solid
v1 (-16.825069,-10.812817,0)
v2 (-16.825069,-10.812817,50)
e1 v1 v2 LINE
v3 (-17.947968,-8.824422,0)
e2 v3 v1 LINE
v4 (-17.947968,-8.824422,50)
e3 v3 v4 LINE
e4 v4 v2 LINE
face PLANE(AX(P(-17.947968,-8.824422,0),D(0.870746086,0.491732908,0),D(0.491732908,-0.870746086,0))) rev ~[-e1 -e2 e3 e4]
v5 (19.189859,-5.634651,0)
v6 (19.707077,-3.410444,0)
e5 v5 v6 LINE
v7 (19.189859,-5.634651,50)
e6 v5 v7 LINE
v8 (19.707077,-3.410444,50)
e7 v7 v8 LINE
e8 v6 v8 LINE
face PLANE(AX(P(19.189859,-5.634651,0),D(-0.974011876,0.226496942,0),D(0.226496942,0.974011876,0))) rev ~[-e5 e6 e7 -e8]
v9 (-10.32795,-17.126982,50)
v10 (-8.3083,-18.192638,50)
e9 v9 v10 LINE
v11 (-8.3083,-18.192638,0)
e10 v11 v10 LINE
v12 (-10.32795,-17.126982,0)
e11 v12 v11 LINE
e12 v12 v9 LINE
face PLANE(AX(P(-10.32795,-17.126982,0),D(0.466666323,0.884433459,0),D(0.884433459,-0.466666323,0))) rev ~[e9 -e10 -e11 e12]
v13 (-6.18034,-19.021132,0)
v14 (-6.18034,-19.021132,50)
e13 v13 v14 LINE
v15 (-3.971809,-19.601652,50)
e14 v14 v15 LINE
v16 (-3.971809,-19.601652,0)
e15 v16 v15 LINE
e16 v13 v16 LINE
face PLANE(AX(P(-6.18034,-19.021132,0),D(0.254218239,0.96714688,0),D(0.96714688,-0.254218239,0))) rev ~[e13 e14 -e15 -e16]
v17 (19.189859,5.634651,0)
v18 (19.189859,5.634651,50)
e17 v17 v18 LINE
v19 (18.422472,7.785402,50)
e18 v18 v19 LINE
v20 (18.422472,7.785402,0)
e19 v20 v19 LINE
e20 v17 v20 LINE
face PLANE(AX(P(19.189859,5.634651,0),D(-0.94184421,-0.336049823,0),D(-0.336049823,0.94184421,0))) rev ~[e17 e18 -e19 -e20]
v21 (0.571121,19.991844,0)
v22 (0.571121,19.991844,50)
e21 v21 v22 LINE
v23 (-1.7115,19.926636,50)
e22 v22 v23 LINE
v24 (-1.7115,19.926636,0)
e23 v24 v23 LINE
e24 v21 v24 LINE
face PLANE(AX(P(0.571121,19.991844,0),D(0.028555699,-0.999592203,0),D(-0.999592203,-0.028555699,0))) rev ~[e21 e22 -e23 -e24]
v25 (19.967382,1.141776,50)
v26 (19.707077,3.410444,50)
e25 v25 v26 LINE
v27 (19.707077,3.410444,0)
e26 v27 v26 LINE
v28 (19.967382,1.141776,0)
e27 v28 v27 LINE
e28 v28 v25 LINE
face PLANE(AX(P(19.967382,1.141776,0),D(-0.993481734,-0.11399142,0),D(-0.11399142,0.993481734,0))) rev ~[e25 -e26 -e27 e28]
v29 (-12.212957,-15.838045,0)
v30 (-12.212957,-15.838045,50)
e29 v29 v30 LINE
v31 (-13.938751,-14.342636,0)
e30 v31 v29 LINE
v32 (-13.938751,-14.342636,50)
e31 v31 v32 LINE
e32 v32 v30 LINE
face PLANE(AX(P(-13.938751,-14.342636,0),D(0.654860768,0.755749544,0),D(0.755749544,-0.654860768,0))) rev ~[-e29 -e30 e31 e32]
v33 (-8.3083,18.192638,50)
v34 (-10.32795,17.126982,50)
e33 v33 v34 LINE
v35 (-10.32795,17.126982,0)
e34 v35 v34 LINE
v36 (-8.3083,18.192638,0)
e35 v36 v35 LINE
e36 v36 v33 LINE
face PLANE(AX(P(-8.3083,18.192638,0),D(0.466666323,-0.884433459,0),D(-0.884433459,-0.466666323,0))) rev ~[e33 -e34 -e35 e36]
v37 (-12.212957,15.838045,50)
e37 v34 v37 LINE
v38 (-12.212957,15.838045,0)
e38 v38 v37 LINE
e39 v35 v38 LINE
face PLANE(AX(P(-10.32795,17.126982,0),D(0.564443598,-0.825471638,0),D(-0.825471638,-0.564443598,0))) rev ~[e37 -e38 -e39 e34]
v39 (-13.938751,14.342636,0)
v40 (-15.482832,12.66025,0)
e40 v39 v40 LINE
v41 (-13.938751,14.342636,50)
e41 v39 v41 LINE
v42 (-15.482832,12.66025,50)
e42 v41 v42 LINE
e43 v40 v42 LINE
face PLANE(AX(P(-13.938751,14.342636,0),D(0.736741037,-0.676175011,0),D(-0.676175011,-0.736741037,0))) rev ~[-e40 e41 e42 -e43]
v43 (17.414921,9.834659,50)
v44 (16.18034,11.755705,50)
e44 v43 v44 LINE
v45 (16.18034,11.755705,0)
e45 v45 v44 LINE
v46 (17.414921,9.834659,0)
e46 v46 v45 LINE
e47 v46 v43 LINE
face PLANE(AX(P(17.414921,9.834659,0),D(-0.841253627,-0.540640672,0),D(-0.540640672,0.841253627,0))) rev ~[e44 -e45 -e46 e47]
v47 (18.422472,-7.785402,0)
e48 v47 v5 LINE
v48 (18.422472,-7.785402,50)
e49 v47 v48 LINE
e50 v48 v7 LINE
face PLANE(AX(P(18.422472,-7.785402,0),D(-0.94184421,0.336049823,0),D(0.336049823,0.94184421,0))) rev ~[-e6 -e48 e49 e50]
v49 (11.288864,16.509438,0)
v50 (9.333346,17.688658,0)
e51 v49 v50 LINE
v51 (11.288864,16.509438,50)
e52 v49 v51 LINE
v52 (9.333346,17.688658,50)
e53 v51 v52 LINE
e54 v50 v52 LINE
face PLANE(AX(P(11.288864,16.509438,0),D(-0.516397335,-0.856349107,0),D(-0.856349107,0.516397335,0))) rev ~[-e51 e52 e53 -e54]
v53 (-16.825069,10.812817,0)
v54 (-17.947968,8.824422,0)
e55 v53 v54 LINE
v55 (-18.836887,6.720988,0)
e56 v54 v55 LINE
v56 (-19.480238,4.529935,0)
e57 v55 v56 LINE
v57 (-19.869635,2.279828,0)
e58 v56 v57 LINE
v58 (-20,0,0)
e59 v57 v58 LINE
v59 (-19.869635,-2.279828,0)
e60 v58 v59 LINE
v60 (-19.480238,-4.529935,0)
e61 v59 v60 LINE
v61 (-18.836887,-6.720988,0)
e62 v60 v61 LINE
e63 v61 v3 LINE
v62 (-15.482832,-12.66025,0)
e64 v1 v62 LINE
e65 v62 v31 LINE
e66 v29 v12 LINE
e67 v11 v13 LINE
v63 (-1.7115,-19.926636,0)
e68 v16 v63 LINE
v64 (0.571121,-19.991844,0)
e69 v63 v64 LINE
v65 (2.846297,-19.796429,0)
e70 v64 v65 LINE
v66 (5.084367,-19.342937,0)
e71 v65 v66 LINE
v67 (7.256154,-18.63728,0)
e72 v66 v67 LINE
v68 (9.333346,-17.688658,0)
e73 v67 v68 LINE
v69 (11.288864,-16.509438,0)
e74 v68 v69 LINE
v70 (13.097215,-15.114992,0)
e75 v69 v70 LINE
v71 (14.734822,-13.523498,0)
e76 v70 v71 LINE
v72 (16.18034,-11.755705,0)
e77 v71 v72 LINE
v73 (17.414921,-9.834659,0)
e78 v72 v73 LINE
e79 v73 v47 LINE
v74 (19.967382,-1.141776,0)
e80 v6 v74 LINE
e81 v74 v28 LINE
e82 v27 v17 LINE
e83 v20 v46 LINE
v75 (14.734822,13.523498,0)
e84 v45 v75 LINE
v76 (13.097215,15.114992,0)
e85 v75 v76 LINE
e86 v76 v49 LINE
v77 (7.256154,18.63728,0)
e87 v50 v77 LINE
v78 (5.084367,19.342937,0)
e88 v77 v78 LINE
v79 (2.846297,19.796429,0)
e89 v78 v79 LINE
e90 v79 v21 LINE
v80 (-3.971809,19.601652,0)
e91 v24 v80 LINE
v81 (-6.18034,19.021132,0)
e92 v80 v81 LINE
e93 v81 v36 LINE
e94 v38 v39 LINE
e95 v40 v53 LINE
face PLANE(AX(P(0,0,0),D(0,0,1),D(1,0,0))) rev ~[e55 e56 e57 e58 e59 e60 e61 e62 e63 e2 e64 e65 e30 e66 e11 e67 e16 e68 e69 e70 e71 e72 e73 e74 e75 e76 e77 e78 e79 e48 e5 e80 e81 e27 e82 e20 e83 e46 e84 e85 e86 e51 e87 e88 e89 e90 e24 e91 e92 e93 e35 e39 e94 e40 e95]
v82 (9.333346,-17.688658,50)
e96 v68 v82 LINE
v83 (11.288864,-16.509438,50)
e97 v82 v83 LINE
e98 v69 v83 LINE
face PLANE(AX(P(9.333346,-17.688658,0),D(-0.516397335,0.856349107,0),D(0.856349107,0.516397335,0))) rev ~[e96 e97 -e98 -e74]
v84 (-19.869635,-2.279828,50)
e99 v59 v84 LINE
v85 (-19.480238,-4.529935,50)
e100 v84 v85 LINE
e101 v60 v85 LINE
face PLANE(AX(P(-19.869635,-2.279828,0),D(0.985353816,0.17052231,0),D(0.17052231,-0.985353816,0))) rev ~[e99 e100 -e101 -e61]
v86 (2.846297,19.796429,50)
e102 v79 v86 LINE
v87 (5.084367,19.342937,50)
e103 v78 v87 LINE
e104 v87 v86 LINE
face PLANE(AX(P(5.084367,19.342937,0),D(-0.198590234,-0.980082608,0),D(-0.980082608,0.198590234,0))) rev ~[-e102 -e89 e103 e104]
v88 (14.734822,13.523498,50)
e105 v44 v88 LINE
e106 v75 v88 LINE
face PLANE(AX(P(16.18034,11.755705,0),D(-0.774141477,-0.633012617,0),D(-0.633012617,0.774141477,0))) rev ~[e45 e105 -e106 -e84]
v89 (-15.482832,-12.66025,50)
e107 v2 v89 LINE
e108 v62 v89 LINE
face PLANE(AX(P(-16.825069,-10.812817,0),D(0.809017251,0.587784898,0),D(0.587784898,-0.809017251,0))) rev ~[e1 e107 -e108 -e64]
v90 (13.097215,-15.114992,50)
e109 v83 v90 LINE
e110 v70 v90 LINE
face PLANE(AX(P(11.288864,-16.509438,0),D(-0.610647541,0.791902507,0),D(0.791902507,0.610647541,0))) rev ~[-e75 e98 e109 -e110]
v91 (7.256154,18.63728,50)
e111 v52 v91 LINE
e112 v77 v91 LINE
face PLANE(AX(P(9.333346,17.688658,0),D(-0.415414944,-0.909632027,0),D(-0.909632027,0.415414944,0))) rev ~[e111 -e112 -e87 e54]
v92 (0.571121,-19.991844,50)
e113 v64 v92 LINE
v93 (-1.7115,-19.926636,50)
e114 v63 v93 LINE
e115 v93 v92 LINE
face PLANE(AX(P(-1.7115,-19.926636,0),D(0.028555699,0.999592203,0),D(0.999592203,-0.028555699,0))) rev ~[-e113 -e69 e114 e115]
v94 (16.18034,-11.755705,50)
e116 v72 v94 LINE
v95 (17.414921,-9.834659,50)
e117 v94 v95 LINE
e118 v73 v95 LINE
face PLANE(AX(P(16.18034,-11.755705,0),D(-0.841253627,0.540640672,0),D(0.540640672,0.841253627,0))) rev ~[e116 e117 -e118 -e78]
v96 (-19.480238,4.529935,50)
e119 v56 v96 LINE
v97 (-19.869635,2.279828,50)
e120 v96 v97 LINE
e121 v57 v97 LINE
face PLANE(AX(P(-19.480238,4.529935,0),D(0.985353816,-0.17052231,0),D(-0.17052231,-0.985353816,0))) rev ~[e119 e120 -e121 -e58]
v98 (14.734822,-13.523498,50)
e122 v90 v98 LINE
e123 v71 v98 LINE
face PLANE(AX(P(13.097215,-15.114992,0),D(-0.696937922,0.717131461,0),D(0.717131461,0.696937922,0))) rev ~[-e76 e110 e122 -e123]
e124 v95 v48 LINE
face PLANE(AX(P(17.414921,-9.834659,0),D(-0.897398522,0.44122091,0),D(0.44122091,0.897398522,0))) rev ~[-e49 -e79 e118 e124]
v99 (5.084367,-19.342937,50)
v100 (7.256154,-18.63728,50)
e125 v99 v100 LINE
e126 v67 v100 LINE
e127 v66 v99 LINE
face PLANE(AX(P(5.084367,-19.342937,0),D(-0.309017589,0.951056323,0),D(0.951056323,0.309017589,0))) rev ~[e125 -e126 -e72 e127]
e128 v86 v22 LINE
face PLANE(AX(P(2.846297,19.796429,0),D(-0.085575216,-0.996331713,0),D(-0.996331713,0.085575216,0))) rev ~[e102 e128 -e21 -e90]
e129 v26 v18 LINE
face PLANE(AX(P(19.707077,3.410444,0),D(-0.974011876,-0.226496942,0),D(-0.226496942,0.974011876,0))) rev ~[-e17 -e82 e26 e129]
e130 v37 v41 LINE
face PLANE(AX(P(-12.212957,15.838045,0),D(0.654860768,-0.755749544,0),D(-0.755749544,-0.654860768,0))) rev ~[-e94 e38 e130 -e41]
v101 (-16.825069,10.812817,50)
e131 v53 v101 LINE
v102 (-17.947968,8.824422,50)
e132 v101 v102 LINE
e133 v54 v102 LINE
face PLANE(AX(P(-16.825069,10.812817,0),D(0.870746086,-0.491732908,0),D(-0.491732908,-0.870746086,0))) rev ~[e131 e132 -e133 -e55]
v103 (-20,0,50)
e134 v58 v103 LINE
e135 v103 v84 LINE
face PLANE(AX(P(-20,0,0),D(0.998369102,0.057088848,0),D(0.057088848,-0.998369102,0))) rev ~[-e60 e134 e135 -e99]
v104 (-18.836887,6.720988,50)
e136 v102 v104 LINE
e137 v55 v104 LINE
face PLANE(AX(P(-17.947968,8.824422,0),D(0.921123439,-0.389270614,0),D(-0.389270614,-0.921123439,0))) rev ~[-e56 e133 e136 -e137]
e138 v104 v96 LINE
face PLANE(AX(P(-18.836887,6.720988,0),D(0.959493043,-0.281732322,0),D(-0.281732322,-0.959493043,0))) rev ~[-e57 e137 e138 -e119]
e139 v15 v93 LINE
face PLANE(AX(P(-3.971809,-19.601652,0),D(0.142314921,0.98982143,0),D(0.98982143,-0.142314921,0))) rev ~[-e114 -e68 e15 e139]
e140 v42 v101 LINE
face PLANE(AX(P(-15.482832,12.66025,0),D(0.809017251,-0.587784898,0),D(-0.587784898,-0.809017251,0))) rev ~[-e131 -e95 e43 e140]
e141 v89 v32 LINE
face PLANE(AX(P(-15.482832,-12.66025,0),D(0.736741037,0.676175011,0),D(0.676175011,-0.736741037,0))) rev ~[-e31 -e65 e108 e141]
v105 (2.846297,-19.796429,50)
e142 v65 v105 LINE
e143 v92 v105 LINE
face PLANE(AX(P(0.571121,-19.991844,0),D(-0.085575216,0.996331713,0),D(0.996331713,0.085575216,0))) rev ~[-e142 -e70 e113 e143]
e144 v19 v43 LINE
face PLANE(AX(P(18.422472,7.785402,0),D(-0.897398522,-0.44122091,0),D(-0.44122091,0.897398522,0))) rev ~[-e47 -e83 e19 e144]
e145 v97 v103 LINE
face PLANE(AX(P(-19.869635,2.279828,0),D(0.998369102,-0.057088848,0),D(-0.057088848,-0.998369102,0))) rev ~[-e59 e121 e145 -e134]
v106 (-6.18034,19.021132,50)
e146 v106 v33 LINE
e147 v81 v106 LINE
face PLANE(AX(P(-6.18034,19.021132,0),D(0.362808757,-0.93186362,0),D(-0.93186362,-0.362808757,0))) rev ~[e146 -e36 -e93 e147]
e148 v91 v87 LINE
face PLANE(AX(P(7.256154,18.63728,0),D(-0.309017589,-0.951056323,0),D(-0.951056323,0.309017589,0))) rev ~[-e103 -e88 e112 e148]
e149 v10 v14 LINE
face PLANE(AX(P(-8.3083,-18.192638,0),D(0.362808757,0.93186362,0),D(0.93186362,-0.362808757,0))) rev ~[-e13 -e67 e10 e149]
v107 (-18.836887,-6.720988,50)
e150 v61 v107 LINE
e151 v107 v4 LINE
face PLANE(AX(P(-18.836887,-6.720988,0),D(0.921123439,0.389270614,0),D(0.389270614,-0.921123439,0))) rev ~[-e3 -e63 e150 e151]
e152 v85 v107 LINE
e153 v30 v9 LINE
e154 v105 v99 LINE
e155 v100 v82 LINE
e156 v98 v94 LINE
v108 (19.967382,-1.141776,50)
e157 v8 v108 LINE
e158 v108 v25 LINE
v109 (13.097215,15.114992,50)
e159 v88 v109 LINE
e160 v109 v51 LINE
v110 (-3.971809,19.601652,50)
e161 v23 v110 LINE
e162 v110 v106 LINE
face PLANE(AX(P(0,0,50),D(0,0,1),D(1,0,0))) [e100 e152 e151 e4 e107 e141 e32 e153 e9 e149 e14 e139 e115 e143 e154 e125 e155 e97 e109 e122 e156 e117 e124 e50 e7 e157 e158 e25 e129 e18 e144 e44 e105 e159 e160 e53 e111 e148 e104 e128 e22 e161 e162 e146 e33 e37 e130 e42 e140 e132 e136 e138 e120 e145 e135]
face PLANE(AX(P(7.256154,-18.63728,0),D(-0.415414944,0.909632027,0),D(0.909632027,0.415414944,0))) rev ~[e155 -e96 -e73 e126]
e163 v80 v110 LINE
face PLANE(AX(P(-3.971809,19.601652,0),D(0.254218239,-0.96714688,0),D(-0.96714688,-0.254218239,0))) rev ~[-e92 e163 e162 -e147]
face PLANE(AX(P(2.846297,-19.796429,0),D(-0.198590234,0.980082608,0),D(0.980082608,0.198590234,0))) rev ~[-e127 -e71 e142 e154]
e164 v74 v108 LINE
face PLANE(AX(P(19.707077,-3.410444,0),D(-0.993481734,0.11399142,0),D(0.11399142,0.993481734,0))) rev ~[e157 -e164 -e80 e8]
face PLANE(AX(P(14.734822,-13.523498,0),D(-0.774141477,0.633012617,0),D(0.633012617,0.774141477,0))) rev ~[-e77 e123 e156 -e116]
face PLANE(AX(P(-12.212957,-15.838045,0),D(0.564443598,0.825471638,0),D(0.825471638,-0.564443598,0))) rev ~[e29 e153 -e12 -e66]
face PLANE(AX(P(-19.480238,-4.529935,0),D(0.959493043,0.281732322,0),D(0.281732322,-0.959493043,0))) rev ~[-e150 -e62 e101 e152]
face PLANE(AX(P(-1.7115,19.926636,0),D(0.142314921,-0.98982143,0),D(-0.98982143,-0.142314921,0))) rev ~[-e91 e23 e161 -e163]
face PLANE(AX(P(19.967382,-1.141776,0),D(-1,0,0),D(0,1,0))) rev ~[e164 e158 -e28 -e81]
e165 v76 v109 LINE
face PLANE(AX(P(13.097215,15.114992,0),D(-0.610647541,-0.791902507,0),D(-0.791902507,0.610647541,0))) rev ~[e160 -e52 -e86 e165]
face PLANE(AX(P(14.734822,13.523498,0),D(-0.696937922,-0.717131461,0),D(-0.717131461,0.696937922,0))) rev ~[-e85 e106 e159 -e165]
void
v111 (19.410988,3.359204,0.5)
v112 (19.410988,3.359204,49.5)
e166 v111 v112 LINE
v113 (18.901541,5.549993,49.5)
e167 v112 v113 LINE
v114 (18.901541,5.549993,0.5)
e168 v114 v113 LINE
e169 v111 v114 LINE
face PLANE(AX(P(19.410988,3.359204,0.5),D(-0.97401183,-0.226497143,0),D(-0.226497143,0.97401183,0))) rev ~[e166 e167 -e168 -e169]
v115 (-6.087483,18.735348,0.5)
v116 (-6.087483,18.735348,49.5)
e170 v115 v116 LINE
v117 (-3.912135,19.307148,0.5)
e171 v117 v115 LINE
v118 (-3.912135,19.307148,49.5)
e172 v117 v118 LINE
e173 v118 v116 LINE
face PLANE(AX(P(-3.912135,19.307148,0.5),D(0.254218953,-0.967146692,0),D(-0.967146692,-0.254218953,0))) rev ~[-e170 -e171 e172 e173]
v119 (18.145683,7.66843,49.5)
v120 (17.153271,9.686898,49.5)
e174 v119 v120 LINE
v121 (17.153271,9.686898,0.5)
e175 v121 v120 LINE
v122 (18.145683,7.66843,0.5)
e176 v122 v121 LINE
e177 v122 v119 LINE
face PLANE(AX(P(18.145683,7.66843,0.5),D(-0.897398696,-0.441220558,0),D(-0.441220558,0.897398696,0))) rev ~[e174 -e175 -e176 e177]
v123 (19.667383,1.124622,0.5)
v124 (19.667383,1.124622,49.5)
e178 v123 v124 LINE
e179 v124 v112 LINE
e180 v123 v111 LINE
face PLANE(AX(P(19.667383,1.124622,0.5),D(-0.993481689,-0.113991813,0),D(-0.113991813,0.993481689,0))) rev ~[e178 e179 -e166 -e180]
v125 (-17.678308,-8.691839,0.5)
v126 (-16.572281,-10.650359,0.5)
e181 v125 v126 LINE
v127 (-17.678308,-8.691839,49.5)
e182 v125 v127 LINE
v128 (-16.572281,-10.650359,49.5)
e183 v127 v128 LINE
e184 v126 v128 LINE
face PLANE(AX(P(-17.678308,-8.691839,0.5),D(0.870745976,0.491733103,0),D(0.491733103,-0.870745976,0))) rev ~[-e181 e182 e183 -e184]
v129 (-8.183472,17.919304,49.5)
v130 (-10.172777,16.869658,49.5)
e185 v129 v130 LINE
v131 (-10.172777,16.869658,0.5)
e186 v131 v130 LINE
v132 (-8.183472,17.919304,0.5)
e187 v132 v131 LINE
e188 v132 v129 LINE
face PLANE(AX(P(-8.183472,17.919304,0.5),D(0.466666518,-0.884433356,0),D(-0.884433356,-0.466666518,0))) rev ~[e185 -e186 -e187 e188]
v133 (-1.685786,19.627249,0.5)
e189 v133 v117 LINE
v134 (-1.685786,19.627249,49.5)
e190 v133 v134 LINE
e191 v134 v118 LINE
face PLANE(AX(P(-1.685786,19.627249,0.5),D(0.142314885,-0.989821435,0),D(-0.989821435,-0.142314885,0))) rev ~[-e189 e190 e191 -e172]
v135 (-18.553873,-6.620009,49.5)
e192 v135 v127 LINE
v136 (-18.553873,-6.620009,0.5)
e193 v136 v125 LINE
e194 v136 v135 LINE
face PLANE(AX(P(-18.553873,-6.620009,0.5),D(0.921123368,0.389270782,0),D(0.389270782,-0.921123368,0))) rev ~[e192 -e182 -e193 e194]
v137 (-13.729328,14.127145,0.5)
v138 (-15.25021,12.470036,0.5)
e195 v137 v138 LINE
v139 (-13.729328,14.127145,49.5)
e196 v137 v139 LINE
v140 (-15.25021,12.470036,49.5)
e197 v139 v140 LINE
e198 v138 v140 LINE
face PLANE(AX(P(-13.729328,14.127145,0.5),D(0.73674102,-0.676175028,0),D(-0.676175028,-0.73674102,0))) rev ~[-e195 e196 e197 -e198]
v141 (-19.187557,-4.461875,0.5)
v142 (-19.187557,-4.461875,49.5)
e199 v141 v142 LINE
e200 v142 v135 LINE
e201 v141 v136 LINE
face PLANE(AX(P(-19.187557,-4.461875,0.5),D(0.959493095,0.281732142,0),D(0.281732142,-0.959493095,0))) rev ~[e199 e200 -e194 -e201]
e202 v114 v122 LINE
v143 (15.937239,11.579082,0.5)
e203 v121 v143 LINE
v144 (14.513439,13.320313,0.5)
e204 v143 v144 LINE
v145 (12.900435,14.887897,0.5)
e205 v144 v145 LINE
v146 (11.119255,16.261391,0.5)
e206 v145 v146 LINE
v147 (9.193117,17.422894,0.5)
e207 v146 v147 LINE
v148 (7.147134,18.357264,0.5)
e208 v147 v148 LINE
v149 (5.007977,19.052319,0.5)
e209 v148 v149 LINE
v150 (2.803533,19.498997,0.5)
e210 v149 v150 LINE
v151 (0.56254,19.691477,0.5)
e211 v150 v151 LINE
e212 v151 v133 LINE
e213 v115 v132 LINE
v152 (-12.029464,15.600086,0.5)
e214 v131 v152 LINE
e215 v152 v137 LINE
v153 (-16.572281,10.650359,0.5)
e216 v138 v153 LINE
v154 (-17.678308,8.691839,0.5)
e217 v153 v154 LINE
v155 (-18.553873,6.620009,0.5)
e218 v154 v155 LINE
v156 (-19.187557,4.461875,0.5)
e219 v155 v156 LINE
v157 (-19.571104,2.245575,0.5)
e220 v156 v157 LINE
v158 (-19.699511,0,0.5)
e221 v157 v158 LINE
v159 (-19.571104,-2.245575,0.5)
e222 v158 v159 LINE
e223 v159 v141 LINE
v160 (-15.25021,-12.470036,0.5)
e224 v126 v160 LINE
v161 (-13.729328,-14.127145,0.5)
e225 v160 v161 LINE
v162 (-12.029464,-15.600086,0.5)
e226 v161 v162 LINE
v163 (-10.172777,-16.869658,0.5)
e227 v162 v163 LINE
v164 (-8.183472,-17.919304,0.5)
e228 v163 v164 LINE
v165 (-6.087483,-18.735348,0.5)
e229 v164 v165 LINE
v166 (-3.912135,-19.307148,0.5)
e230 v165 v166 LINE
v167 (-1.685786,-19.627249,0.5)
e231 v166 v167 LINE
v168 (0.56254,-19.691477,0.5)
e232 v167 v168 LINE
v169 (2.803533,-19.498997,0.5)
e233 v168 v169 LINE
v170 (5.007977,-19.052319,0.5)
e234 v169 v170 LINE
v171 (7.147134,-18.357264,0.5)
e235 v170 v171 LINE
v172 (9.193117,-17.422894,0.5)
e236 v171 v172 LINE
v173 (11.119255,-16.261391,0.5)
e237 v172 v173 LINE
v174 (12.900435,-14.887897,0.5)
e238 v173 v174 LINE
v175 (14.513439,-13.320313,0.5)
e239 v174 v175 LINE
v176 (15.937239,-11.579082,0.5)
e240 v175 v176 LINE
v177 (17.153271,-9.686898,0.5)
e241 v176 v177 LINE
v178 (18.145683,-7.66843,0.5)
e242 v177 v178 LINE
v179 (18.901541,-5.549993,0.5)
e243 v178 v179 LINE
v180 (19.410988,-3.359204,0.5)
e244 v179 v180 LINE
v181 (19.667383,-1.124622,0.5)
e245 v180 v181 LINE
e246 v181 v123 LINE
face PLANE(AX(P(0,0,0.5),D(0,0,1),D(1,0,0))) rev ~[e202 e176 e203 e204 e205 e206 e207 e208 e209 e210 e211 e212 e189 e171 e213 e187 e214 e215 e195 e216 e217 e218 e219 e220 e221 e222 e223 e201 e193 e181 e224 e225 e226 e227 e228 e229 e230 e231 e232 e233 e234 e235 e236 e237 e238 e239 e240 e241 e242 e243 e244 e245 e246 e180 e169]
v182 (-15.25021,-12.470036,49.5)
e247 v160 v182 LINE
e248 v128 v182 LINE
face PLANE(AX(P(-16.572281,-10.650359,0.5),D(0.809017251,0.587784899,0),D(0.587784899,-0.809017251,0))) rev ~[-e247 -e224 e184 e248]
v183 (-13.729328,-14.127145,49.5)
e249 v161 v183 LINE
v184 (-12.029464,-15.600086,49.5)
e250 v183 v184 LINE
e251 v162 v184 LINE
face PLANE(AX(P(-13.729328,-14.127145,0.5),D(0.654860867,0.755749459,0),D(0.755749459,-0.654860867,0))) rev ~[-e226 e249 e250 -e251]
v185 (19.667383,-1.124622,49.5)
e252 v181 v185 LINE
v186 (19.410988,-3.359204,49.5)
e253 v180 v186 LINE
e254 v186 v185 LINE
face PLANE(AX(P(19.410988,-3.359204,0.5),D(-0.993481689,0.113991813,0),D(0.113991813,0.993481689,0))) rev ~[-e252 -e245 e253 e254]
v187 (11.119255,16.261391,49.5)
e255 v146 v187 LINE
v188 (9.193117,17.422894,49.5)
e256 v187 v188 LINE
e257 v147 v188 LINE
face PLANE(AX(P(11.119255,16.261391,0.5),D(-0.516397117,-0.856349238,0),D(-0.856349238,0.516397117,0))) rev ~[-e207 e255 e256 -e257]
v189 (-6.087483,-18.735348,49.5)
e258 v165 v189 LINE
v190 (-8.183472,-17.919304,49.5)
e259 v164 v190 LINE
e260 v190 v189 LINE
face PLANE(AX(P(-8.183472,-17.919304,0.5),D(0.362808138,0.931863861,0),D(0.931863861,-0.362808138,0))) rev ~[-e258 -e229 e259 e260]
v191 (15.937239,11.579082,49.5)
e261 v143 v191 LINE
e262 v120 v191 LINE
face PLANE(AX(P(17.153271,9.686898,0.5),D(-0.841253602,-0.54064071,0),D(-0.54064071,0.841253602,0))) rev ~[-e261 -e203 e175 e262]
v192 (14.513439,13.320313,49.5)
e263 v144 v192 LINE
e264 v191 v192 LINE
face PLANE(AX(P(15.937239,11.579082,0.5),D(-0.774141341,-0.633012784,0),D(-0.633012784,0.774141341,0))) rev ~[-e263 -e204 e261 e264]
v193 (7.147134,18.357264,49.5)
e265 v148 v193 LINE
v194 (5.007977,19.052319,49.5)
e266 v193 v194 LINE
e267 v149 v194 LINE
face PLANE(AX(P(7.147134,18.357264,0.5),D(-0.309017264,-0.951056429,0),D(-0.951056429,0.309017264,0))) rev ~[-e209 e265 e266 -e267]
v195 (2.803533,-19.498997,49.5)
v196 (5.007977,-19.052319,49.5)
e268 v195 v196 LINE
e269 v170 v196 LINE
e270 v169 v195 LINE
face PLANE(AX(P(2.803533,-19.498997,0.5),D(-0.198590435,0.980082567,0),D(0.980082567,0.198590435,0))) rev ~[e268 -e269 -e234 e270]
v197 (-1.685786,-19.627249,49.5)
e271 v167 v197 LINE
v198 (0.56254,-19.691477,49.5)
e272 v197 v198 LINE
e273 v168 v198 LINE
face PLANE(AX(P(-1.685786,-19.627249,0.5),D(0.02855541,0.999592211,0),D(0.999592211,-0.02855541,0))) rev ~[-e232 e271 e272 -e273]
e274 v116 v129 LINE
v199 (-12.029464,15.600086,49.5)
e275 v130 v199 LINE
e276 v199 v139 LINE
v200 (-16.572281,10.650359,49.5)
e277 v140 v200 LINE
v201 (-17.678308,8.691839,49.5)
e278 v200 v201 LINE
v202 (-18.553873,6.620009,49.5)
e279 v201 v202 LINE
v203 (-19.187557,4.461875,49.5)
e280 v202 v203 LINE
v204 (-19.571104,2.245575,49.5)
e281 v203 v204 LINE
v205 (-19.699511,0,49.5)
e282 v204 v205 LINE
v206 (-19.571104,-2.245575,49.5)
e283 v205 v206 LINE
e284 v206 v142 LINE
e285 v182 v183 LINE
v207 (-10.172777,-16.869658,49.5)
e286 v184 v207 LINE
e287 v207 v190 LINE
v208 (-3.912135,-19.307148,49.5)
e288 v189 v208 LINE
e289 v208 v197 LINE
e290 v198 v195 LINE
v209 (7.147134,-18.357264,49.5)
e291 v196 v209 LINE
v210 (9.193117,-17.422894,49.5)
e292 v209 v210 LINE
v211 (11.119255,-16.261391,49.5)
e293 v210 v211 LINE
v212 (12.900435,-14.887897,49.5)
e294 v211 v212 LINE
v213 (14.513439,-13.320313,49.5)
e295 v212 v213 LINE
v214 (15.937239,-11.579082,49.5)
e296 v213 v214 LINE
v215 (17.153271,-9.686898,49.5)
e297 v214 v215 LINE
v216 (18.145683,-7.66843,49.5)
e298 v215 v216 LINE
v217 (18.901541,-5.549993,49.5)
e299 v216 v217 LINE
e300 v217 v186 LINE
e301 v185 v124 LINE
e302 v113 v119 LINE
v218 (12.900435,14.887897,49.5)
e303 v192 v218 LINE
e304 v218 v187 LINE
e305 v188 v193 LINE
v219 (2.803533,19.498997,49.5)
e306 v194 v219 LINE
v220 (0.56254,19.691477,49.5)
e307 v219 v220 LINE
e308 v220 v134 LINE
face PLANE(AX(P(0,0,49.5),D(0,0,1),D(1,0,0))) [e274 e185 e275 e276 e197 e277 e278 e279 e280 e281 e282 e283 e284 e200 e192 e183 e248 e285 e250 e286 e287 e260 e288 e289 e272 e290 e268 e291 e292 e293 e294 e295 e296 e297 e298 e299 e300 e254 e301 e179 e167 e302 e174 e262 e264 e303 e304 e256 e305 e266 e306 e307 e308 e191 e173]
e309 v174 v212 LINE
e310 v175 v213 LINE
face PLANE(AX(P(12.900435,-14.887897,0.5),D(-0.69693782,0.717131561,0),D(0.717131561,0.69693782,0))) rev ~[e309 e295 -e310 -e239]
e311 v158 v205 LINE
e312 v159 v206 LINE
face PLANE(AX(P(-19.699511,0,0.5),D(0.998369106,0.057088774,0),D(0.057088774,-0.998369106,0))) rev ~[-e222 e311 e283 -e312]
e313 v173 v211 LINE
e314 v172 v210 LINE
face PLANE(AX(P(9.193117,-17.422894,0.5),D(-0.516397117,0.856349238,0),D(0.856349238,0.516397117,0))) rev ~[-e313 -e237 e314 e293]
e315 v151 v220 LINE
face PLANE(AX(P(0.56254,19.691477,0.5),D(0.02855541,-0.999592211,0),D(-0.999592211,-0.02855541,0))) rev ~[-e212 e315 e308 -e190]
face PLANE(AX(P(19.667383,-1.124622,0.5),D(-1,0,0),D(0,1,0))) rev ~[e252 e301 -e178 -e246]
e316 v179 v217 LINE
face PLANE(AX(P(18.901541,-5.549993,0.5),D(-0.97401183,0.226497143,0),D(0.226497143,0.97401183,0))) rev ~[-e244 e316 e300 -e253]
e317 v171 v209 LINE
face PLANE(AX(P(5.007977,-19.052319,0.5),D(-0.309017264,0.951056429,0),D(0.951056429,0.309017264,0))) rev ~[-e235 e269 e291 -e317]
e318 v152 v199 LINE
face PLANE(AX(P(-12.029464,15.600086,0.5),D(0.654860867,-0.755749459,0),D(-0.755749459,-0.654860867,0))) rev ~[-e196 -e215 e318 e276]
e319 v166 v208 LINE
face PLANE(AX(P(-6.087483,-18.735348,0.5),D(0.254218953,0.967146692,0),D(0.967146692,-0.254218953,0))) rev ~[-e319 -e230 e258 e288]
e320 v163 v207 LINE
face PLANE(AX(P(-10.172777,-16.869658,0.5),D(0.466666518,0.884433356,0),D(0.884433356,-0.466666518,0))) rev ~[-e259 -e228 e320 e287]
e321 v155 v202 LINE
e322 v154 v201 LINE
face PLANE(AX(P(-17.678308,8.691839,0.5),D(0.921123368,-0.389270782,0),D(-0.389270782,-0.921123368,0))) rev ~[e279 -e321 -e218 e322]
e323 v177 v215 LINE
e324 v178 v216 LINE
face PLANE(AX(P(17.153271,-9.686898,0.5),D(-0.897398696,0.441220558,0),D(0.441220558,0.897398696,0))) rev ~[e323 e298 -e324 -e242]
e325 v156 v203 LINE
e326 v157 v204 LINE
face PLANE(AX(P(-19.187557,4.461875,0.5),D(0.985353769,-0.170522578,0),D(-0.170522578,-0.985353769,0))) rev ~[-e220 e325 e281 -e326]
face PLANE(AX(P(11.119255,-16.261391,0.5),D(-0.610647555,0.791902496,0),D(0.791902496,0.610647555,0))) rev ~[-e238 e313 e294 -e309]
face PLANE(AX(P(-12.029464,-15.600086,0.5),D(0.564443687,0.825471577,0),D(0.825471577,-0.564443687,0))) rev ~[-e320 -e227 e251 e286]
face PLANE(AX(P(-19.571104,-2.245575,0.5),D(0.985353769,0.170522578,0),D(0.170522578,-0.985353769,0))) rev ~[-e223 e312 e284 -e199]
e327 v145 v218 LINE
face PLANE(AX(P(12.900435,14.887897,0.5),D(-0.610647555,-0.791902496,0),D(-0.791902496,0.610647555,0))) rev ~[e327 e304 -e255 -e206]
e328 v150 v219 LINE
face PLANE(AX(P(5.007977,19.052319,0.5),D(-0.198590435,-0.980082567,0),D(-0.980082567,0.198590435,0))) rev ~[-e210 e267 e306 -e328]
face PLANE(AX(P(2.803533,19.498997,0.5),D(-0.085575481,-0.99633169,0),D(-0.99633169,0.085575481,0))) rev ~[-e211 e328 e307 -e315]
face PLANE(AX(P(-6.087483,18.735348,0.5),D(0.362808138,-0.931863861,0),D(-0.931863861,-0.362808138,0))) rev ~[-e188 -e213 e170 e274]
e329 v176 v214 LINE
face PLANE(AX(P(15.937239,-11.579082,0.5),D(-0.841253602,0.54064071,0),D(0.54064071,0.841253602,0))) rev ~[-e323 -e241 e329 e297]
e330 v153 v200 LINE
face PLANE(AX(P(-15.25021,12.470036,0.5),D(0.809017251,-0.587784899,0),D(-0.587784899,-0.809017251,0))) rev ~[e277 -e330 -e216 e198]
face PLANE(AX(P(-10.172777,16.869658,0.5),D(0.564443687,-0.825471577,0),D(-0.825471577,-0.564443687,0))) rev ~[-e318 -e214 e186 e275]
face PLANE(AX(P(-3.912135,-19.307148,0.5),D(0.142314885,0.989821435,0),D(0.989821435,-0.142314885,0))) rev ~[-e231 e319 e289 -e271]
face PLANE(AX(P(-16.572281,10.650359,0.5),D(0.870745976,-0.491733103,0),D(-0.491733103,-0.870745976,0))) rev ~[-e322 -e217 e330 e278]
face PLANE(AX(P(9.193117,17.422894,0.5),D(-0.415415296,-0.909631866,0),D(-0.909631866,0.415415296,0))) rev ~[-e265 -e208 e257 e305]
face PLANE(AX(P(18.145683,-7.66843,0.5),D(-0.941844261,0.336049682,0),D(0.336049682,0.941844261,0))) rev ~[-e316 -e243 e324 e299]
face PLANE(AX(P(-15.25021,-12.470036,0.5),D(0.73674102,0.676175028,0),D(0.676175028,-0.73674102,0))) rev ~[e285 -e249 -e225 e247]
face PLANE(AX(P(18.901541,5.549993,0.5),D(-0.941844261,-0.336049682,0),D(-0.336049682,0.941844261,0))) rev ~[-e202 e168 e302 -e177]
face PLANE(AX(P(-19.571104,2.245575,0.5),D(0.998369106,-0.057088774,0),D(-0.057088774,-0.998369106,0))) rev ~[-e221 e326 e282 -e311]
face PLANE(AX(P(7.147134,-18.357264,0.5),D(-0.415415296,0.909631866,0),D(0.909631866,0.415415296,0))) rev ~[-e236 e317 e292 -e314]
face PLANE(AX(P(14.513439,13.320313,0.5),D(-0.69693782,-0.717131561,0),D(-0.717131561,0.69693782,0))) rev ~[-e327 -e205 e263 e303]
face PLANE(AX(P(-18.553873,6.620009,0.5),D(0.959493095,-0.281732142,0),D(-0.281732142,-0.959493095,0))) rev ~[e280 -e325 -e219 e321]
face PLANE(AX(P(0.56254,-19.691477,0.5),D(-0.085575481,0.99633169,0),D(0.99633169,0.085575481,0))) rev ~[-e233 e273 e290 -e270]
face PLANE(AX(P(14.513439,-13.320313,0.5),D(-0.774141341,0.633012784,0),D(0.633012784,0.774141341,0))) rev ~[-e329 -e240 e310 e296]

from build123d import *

# Parameters (mm, degrees)
TH_N_NGO_I_DEPTH      = 50
KHOANG_START          = 0.5
KHOANG_R_NG_K_N_DEPTH = 49


with BuildPart() as part:
    # Biên dạng ngoài theo phôi gốc → Thân ngoài (new body)
    with BuildSketch(Plane.XY):
        Polygon((-20, 0), (-19.869634628, -2.279828072), (-19.480237961, -4.52993536), (-18.83688736, -6.720988274), (-17.947967529, -8.824421883), (-16.825069428, -10.81281662), (-15.482831955, -12.66024971), (-13.938751221, -14.342636108), (-12.212957382, -15.83804512), (-10.327949524, -17.126981735), (-8.308300018, -18.192638397), (-6.180339813, -19.021131515), (-3.971809387, -19.601652145), (-1.711500168, -19.926635742), (0.571121037, -19.991844177), (2.846296787, -19.79642868), (5.084366798, -19.34293747), (7.25615406, -18.637279511), (9.333346367, -17.688657761), (11.288864136, -16.509437561), (13.097214699, -15.114992142), (14.734822273, -13.523497581), (16.180339813, -11.75570488), (17.414920807, -9.834658623), (18.422472, -7.785401821), (19.18985939, -5.634651184), (19.707077026, -3.410444021), (19.967382431, -1.141776204), (19.967382431, 1.141776204), (19.707077026, 3.410444021), (19.18985939, 5.634651184), (18.422472, 7.785401821), (17.414920807, 9.834658623), (16.180339813, 11.75570488), (14.734822273, 13.523497581), (13.097214699, 15.114992142), (11.288864136, 16.509437561), (9.333346367, 17.688657761), (7.25615406, 18.637279511), (5.084366798, 19.34293747), (2.846296787, 19.79642868), (0.571121037, 19.991844177), (-1.711500168, 19.926635742), (-3.971809387, 19.601652145), (-6.180339813, 19.021131515), (-8.308300018, 18.192638397), (-10.327949524, 17.126981735), (-12.212957382, 15.83804512), (-13.938751221, 14.342636108), (-15.482831955, 12.66024971), (-16.825069428, 10.81281662), (-17.947967529, 8.824421883), (-18.83688736, 6.720988274), (-19.480237961, 4.52993536), (-19.869634628, 2.279828072), align=None)
    extrude(amount=TH_N_NGO_I_DEPTH)

    # Biên dạng trong cách thành ngoài 0,3 mm → Khoang rỗng kín (cut)
    with BuildSketch(Plane.XY.offset(KHOANG_START)):
        Polygon((-19.57110405, -2.245574713), (-19.187557221, -4.461875439), (-18.553873062, -6.620008946), (-17.678308487, -8.691839218), (-16.572280884, -10.650359154), (-15.250209808, -12.470035553), (-13.729328155, -14.127144813), (-12.029463768, -15.600086212), (-10.172777176, -16.869657516), (-8.18347168, -17.919303894), (-6.087482929, -18.735347748), (-3.912134886, -19.30714798), (-1.68578577, -19.627248764), (0.562540114, -19.691476822), (2.8035326, -19.498996735), (5.007976532, -19.052318573), (7.147133827, -18.357263565), (9.193117142, -17.422893524), (11.119255066, -16.261390686), (12.900435448, -14.887896538), (14.513439179, -13.320313454), (15.937238693, -11.579081535), (17.153270721, -9.686898232), (18.145683289, -7.668429852), (18.901540756, -5.549993038), (19.410987854, -3.359203815), (19.667383194, -1.12462163), (19.667383194, 1.12462163), (19.410987854, 3.359203815), (18.901540756, 5.549993038), (18.145683289, 7.668429852), (17.153270721, 9.686898232), (15.937238693, 11.579081535), (14.513439179, 13.320313454), (12.900435448, 14.887896538), (11.119255066, 16.261390686), (9.193117142, 17.422893524), (7.147133827, 18.357263565), (5.007976532, 19.052318573), (2.8035326, 19.498996735), (0.562540114, 19.691476822), (-1.68578577, 19.627248764), (-3.912134886, 19.30714798), (-6.087482929, 18.735347748), (-8.18347168, 17.919303894), (-10.172777176, 16.869657516), (-12.029463768, 15.600086212), (-13.729328155, 14.127144813), (-15.250209808, 12.470035553), (-16.572280884, 10.650359154), (-17.678308487, 8.691839218), (-18.553873062, 6.620008946), (-19.187557221, 4.461875439), (-19.57110405, 2.245574713), (-19.699510574, 0), align=None)
    extrude(amount=KHOANG_R_NG_K_N_DEPTH, mode=Mode.SUBTRACT)


solid = part.part
